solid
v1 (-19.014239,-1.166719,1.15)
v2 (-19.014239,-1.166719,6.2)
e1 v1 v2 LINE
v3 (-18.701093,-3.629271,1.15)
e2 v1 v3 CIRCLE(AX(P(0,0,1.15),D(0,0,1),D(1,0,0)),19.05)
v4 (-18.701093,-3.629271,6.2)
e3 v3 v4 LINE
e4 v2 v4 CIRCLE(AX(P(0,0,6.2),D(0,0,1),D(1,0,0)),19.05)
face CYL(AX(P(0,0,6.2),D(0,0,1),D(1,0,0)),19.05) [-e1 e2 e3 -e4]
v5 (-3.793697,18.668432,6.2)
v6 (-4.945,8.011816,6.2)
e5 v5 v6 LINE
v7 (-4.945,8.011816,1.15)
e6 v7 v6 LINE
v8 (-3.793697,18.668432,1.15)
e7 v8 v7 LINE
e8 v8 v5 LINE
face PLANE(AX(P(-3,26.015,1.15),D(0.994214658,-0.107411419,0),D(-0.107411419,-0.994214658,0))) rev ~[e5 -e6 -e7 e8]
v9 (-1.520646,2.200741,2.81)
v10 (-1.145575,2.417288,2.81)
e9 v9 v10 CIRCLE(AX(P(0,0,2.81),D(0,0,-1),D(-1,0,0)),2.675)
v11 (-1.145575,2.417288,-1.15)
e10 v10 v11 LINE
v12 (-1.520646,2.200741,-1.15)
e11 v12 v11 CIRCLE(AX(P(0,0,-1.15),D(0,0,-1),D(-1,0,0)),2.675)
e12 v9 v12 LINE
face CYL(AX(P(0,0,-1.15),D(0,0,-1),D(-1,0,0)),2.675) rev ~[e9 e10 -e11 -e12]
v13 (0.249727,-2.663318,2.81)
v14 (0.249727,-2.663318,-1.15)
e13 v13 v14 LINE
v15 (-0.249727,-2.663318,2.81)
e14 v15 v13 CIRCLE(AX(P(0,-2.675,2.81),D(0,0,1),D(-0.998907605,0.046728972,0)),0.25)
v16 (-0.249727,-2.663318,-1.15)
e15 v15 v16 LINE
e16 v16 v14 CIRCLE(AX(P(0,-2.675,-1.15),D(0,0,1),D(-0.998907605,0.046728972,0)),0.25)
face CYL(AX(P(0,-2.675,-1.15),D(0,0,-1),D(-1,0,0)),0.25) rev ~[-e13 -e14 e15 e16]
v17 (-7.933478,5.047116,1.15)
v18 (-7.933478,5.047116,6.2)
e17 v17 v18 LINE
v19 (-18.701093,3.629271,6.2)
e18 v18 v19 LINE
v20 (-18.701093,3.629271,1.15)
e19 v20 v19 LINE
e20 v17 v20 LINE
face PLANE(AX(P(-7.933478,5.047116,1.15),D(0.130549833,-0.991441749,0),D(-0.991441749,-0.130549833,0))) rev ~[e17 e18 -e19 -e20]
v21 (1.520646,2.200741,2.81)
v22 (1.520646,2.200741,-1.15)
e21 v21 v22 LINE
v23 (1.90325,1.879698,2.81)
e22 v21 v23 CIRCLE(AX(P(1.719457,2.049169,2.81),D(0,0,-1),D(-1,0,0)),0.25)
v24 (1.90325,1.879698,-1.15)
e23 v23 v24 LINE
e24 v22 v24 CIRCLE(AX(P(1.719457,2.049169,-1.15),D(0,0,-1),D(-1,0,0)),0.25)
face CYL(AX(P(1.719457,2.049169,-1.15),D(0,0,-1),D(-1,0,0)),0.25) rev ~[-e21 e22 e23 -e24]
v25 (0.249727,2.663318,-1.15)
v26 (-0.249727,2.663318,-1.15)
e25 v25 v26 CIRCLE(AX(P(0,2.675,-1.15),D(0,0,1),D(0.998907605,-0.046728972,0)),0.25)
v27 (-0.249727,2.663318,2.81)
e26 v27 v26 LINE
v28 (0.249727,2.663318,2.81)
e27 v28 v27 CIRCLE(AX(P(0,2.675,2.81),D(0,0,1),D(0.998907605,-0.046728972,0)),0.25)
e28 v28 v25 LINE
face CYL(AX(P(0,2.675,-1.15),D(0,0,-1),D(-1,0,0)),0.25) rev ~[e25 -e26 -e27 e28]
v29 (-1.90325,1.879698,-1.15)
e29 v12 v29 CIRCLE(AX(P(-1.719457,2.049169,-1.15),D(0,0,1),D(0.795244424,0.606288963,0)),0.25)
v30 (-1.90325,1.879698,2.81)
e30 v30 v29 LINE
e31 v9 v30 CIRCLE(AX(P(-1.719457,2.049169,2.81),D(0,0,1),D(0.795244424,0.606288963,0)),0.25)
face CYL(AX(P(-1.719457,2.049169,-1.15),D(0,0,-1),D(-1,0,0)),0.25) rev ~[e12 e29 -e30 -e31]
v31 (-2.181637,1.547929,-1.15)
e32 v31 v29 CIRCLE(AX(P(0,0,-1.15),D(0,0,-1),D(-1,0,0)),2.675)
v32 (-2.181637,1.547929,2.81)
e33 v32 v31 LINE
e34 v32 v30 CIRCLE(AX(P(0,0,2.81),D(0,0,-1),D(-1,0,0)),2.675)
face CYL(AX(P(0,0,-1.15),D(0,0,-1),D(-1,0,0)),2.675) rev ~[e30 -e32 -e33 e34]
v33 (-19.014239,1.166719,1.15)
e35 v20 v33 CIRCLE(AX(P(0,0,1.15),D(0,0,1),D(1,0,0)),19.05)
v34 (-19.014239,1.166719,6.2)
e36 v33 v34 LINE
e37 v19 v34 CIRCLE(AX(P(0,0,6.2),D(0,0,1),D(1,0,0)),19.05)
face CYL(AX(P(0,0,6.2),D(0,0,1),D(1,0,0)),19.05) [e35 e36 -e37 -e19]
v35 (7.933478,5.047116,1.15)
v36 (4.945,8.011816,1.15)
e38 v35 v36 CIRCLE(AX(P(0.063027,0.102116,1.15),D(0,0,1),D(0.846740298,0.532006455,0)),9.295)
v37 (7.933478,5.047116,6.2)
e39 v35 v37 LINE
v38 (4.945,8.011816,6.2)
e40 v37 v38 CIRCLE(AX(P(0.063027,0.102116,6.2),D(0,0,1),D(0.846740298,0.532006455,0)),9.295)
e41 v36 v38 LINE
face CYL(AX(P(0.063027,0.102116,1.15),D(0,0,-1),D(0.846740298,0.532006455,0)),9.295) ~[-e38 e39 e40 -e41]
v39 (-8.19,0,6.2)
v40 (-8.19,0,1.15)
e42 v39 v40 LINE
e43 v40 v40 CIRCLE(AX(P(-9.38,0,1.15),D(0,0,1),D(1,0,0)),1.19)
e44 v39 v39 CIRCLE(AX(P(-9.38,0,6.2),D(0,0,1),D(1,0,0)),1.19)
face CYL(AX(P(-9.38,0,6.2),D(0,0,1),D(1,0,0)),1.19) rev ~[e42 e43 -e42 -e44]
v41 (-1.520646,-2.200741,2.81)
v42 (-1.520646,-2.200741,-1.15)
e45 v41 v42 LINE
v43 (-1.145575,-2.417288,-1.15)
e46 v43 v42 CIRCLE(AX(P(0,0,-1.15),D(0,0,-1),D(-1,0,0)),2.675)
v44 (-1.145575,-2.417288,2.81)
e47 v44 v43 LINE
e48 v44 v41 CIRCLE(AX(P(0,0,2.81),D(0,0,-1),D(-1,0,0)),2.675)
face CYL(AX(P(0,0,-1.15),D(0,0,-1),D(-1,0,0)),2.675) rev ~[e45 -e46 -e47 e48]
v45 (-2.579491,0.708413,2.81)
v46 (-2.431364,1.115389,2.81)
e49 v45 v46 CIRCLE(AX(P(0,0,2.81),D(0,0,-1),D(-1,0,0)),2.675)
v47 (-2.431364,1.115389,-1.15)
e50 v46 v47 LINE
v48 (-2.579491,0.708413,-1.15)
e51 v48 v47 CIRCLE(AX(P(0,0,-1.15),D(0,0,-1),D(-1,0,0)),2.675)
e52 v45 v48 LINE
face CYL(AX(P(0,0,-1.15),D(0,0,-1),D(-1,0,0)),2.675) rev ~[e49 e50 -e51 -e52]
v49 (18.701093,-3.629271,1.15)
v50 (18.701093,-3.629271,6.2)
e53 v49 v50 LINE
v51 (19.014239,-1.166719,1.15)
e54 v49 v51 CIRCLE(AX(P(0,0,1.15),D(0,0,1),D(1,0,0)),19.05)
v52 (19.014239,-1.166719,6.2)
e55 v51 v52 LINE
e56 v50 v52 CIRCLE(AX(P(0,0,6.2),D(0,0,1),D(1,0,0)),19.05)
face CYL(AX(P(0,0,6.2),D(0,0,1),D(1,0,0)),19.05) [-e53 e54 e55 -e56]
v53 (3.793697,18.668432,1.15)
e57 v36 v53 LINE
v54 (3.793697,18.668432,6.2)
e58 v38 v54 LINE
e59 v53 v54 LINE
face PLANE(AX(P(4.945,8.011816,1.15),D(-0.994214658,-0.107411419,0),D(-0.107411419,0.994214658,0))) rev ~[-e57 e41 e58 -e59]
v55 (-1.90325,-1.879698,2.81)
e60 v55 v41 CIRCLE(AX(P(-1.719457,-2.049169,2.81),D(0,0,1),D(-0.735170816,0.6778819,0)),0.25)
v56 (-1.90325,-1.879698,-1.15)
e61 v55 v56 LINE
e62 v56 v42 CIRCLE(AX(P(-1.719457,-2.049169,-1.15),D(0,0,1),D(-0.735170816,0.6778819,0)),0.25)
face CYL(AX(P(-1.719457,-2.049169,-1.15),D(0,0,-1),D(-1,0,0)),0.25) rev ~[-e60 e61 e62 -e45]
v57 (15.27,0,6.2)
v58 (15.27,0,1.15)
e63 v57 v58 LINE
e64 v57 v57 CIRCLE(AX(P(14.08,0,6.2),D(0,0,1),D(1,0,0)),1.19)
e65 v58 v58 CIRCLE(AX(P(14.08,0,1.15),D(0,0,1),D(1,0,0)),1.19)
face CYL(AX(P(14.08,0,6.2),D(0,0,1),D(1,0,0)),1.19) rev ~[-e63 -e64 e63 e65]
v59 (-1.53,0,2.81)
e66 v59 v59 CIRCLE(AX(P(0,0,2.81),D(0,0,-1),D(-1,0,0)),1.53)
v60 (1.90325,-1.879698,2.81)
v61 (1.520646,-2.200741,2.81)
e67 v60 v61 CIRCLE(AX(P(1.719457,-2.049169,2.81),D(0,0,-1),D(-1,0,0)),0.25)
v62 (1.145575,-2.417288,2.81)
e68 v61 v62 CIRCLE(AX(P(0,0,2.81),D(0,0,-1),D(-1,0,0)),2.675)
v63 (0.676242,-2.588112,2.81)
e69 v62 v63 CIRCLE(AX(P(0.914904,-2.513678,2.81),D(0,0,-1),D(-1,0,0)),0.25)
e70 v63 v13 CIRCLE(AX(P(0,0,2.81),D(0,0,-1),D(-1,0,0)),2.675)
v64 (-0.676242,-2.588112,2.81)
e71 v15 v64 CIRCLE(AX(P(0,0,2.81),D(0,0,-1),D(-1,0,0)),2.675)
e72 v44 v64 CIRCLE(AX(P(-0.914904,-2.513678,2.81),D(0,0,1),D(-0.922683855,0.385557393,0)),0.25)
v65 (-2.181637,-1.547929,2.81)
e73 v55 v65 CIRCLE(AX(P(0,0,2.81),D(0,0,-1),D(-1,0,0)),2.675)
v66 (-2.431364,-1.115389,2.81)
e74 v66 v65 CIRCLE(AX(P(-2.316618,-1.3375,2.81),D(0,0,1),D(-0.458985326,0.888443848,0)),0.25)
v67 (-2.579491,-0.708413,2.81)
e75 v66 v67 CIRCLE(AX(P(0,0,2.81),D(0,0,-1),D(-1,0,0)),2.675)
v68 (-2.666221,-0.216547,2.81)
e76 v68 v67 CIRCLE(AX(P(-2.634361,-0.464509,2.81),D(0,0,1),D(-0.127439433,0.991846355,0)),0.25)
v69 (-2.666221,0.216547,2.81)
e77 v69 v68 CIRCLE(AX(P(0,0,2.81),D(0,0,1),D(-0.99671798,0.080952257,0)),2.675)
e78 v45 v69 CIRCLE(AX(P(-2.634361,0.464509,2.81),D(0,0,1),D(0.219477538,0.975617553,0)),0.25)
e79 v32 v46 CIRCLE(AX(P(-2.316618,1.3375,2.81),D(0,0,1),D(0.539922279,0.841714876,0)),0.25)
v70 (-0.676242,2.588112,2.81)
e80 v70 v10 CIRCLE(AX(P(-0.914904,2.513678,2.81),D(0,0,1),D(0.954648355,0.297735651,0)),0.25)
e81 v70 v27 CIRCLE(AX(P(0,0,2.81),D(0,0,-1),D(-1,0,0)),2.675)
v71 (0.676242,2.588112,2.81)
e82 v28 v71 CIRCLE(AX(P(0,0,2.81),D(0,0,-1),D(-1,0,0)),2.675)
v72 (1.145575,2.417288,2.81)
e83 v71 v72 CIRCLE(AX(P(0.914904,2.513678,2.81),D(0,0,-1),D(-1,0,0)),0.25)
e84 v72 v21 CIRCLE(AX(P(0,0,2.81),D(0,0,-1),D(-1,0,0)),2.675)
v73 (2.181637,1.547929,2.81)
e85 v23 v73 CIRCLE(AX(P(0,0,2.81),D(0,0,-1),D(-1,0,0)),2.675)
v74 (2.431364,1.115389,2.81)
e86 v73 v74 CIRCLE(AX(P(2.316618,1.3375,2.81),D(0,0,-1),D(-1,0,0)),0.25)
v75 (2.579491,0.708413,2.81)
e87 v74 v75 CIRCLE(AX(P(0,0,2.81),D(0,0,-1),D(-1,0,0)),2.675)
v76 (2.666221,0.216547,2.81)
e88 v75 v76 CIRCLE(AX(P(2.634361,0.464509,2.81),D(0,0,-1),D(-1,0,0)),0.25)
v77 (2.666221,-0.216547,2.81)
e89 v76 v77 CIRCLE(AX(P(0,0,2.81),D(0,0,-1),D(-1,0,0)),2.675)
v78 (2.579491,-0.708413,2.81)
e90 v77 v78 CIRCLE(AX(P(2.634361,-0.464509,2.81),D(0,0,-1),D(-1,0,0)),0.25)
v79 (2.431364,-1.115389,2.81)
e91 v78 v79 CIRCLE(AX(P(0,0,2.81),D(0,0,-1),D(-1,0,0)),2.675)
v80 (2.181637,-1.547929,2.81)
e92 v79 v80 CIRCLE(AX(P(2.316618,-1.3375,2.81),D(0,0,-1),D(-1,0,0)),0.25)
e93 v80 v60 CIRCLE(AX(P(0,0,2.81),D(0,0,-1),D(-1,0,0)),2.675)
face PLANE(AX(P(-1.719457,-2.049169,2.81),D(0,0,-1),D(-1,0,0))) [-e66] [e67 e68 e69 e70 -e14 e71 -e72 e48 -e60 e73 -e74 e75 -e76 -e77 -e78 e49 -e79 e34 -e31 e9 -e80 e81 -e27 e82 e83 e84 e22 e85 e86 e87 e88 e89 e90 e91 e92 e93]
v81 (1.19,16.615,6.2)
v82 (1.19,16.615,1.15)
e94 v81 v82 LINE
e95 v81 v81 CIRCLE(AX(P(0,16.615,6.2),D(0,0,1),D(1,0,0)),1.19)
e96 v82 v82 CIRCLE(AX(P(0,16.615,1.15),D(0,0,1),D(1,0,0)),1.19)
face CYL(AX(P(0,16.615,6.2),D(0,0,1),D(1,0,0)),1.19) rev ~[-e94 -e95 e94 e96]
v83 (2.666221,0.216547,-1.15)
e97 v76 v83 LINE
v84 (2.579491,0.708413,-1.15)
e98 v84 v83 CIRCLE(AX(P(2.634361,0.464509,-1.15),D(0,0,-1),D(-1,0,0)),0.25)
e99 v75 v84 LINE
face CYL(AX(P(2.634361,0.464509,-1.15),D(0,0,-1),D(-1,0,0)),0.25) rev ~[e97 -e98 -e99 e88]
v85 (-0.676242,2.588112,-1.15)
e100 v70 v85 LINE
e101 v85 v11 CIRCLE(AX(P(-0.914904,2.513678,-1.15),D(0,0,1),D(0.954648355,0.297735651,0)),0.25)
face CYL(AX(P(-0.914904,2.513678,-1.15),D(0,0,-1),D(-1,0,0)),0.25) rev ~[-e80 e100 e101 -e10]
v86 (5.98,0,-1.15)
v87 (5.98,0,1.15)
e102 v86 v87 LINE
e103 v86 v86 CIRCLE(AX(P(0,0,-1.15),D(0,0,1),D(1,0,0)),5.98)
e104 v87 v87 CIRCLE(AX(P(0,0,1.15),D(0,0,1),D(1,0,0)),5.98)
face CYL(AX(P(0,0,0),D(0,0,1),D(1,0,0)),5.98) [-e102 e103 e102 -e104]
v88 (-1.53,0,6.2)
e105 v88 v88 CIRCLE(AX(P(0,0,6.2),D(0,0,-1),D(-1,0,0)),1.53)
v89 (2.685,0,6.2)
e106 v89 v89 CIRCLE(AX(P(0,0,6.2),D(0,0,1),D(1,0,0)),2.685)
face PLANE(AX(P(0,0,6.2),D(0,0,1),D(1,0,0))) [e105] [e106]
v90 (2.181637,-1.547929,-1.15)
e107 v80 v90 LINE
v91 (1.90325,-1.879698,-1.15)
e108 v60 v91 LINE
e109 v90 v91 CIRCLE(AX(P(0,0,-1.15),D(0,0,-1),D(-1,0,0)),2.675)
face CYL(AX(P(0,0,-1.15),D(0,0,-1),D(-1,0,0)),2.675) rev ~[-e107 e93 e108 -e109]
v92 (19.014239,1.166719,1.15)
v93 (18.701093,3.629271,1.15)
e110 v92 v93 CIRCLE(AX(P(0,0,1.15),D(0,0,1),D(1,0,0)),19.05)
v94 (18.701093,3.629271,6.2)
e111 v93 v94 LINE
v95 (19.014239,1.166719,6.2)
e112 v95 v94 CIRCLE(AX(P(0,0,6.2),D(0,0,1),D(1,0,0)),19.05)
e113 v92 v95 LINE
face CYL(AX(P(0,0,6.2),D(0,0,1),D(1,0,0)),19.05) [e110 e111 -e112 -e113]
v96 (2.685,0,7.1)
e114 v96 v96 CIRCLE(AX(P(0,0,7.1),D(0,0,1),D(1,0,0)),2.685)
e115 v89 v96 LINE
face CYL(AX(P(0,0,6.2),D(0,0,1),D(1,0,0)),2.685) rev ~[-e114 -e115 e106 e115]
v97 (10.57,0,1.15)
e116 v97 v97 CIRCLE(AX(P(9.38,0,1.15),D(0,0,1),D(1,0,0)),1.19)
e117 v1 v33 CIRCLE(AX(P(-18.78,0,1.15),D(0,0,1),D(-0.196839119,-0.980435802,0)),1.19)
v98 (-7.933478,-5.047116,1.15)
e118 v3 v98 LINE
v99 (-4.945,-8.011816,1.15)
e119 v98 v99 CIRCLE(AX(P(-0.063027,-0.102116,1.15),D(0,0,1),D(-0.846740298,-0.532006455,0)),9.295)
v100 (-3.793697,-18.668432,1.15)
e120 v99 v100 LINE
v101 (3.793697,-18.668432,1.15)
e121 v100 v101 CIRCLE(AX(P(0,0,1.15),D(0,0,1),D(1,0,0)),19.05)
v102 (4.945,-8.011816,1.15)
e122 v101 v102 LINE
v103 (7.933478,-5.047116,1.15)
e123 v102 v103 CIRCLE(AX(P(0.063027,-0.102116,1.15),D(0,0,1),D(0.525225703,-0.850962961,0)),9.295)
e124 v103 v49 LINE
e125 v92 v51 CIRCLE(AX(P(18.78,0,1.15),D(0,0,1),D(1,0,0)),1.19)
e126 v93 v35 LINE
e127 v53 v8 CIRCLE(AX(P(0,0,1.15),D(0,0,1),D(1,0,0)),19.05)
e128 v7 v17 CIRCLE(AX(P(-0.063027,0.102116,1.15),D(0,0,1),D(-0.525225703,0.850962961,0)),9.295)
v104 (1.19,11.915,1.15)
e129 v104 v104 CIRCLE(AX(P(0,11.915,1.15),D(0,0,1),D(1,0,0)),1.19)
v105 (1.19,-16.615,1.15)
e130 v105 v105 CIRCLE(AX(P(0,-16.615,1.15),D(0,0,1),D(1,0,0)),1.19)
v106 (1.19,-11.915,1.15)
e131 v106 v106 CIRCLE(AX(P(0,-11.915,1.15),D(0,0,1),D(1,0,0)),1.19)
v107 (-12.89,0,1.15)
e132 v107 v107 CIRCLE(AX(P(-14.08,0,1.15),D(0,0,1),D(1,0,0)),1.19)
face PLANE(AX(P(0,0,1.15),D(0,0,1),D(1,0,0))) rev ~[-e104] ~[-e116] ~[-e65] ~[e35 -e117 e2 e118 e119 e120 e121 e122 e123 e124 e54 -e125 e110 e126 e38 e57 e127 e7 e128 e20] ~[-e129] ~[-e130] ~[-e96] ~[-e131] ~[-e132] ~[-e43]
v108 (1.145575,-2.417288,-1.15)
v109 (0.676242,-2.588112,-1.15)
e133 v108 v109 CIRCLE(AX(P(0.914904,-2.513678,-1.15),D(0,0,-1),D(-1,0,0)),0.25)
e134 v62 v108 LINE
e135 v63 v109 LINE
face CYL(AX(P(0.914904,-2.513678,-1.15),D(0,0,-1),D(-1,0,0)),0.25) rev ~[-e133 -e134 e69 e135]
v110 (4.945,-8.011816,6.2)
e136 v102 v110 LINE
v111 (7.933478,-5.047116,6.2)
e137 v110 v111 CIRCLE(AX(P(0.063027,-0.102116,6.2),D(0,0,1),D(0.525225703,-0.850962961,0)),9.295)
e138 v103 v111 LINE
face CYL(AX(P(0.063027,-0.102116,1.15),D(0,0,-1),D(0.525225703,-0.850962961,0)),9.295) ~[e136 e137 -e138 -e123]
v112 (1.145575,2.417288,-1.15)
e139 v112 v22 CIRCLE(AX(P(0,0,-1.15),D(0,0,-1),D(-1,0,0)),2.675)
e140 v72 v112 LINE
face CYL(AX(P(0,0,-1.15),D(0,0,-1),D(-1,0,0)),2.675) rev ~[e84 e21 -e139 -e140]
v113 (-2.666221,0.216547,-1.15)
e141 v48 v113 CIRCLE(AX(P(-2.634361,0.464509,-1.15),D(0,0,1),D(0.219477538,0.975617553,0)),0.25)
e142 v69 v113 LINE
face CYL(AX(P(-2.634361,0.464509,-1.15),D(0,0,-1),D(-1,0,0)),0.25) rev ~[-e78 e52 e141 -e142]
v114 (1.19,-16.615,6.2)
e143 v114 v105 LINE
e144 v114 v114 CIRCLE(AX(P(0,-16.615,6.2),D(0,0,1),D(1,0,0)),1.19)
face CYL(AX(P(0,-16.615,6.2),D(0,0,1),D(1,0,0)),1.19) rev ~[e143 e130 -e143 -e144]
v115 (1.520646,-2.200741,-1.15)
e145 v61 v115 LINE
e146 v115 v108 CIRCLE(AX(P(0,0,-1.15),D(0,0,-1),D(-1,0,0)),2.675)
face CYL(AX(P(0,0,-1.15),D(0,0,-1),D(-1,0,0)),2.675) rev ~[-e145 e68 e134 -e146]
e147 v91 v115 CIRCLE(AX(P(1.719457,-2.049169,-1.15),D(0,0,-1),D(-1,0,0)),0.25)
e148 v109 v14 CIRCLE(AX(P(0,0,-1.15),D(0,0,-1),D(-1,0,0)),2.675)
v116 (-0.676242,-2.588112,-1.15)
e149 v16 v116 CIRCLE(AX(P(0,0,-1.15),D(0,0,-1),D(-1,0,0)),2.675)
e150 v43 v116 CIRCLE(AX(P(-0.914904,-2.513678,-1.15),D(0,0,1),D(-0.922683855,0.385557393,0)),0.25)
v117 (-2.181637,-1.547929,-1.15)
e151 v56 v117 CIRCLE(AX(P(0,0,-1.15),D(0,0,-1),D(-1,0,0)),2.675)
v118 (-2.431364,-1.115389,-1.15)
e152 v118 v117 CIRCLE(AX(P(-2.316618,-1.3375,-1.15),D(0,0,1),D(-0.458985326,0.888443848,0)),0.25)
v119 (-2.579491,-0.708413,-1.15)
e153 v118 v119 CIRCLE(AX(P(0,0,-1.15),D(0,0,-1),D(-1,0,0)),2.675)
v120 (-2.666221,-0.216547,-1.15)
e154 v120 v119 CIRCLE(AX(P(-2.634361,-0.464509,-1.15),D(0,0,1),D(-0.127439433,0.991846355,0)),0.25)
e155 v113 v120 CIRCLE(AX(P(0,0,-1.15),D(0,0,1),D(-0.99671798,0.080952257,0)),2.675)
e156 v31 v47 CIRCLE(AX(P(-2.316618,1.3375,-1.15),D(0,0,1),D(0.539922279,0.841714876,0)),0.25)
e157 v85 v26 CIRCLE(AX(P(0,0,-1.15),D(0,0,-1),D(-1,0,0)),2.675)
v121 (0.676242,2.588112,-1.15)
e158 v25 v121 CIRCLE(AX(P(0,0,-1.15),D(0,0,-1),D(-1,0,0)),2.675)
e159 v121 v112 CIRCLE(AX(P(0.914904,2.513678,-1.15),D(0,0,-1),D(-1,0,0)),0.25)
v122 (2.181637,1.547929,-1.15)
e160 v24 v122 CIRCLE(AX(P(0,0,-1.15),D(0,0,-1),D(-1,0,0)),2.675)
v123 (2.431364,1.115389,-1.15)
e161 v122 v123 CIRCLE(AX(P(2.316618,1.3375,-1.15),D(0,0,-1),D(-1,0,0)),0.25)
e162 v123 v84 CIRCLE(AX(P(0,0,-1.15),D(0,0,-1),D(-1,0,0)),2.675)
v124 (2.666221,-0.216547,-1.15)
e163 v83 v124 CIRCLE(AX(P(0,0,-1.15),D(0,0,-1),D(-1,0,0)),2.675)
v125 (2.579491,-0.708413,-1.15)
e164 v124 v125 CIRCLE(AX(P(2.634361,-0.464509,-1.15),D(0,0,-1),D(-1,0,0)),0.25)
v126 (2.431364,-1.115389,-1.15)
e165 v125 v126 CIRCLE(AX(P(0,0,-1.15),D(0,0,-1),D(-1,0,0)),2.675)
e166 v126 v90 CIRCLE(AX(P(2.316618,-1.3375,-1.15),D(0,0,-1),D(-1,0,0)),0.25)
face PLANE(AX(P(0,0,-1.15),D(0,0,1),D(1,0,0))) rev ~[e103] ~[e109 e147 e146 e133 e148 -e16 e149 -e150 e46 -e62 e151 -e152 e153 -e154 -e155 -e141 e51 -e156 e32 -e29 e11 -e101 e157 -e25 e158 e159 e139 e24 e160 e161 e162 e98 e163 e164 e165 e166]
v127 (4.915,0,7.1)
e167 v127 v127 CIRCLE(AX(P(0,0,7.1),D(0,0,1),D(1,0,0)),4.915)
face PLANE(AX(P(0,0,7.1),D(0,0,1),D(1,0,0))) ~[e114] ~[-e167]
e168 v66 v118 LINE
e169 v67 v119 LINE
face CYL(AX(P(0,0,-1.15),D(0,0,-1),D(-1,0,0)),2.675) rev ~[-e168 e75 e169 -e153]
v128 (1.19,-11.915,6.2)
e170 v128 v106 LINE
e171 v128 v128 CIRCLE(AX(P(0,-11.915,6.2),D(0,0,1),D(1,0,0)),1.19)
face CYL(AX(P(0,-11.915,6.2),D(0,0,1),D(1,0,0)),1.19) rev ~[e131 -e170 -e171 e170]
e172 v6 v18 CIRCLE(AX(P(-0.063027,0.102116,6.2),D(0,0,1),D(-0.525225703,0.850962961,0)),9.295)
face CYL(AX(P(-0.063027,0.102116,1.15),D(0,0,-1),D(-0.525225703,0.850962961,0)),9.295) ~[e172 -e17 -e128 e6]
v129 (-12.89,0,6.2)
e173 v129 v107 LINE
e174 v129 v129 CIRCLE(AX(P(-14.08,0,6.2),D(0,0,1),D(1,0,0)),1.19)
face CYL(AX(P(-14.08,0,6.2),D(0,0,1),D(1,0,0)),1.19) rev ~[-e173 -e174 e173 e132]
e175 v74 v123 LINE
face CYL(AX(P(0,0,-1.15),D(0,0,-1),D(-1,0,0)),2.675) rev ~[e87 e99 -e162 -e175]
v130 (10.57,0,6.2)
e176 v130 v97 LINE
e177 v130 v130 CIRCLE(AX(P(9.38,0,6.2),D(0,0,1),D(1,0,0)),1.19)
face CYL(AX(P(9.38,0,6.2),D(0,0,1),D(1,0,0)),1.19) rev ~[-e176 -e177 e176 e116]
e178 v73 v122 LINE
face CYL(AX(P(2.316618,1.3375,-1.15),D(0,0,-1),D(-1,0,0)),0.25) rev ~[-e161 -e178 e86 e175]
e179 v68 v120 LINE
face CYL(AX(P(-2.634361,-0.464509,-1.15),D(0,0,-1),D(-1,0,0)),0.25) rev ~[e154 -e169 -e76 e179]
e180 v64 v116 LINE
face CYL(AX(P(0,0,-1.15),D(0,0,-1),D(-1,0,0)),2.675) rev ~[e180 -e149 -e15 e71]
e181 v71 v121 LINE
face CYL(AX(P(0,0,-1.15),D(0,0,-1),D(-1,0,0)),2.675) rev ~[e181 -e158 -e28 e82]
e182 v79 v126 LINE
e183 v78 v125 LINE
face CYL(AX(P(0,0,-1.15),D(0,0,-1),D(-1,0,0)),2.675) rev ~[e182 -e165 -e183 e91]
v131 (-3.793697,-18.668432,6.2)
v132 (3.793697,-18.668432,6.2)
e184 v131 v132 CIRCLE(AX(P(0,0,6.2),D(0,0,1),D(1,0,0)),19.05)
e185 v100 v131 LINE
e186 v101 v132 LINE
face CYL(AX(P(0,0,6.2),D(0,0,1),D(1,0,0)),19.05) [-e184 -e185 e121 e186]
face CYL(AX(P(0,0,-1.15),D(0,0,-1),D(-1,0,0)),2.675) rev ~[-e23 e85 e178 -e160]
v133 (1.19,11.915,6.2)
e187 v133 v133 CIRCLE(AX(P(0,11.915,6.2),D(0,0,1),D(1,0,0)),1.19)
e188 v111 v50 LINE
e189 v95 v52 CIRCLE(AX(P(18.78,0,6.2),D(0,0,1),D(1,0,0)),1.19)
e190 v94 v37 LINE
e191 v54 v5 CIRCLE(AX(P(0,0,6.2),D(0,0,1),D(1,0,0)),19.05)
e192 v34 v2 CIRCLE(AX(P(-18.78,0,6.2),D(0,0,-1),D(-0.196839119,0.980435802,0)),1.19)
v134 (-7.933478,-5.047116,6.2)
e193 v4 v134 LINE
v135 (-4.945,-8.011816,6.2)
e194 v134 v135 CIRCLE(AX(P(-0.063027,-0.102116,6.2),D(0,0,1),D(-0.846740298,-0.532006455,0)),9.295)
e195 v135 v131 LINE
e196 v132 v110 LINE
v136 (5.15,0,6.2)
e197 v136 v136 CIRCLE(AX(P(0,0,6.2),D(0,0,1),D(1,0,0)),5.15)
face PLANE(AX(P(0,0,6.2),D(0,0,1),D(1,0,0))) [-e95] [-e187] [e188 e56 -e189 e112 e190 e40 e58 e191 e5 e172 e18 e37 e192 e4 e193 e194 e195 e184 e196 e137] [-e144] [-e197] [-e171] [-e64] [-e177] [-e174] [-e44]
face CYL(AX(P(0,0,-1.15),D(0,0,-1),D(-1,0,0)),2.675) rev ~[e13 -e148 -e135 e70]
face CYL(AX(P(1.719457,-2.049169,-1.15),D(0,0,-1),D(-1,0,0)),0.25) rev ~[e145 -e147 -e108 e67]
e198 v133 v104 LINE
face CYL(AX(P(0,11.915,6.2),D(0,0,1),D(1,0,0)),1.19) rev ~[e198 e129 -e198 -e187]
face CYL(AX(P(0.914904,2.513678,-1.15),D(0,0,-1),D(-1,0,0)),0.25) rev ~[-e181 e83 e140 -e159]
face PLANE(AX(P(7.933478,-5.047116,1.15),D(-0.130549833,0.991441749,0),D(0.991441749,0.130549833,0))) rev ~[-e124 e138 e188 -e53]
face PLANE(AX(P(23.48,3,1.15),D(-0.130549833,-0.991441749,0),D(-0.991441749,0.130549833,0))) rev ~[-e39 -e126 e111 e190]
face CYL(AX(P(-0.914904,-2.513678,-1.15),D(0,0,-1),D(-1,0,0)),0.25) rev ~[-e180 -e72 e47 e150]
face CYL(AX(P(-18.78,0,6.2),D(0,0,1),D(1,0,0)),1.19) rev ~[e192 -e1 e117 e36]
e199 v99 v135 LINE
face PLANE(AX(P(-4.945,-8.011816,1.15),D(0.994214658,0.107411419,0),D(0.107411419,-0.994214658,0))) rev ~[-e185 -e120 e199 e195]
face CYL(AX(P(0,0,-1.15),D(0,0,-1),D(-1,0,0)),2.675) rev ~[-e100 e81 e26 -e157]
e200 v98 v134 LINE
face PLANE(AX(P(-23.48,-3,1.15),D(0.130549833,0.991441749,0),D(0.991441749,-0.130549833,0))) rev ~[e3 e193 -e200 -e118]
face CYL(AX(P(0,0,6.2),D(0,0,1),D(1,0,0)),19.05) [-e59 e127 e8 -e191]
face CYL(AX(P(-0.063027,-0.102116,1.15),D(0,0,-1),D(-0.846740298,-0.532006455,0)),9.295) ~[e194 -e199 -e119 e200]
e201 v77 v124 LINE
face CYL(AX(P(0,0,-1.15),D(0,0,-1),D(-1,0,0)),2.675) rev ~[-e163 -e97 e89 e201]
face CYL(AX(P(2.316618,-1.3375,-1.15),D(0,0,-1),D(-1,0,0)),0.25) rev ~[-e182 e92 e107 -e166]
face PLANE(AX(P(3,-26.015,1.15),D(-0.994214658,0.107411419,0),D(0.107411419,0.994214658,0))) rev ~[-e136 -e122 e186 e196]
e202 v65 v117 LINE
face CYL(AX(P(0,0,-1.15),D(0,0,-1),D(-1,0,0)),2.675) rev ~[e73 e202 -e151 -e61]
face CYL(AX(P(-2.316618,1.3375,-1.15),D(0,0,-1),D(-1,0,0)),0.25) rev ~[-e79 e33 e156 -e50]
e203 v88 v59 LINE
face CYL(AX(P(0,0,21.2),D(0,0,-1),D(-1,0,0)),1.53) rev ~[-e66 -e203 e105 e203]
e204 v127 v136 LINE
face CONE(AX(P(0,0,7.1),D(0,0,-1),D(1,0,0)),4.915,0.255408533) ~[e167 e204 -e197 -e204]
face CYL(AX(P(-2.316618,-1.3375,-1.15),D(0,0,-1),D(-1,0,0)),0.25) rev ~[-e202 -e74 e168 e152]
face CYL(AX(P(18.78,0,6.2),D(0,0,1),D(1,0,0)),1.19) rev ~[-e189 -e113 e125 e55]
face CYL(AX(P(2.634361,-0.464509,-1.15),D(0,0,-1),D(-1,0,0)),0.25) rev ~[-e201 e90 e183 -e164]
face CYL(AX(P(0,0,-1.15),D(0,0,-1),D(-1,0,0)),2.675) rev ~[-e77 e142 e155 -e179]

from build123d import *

# Parameters (mm, degrees)
SKETCH1_R                 = 5.98
BOSS_EXTRUDE1_DEPTH       = 1.15
BOSS_EXTRUDE2_DEPTH       = 5.05
F_3_0MM_DOWEL_HOLE1_D     = 3.06
F_3_0MM_DOWEL_HOLE1_DEPTH = 15
F_3_0MM_DOWEL_HOLE1_TIP   = 0.919316747
SKETCH6_R                 = 0.25
CUT_EXTRUDE1_DEPTH        = 3.96
SKETCH7_R                 = 2.675
CUT_EXTRUDE2_DEPTH        = 3.96
SKETCH8_R                 = 1.19
CUT_EXTRUDE3_DEPTH        = 8.35
SKETCH9_OUTSIDE_W         = 70.76
SKETCH9_OUTSIDE_H         = 75.83
SKETCH9_OUTSIDE_R         = 19.05
CUT_EXTRUDE4_DEPTH        = 8.35


with BuildPart() as part:
    # Sketch1 → Boss-Extrude1 (new body, symmetric)
    with BuildSketch(Plane.XY):
        Circle(SKETCH1_R)
    extrude(amount=BOSS_EXTRUDE1_DEPTH, both=True)

    # Sketch2 → Boss-Extrude2 (add)
    with BuildSketch(Plane.XY.offset(1.15)):
        with BuildLine():
            Line((-3, 26.015), (-4.945, 8.011816273))
            ThreePointArc((-4.945, 8.011816273), (-6.609281124, 6.70087173), (-7.933478152, 5.047115555))
            Line((-7.933478152, 5.047115555), (-23.48, 3))
            ThreePointArc((-23.48, 3), (-26.48, 0), (-23.48, -3))
            Line((-23.48, -3), (-7.933478152, -5.047115555))
            ThreePointArc((-7.933478152, -5.047115555), (-6.609281124, -6.70087173), (-4.945, -8.011816273))
            Line((-4.945, -8.011816273), (-3, -26.015))
            ThreePointArc((-3, -26.015), (0, -29.015), (3, -26.015))
            Line((3, -26.015), (4.945, -8.011816273))
            ThreePointArc((4.945, -8.011816273), (6.609281124, -6.70087173), (7.933478152, -5.047115555))
            Line((7.933478152, -5.047115555), (23.48, -3))
            ThreePointArc((23.48, -3), (26.48, 0), (23.48, 3))
            Line((23.48, 3), (7.933478152, 5.047115555))
            ThreePointArc((7.933478152, 5.047115555), (6.609281124, 6.70087173), (4.945, 8.011816273))
            Line((4.945, 8.011816273), (3, 26.015))
            ThreePointArc((3, 26.015), (0, 29.015), (-3, 26.015))
        make_face()
    extrude(amount=BOSS_EXTRUDE2_DEPTH)

    # Ø3.0mm Dowel Hole1
    with Locations(Plane.XY.offset(6.2)):
        with Locations((0, 0)):
            Hole(F_3_0MM_DOWEL_HOLE1_D / 2, depth=F_3_0MM_DOWEL_HOLE1_DEPTH)
            with Locations((0, 0, -(F_3_0MM_DOWEL_HOLE1_DEPTH + F_3_0MM_DOWEL_HOLE1_TIP / 2))):  # 118° drill point
                Cone(0, F_3_0MM_DOWEL_HOLE1_D / 2, F_3_0MM_DOWEL_HOLE1_TIP, mode=Mode.SUBTRACT)

    # Sketch5 → Revolve1 (revolve)
    with BuildSketch(Plane(origin=(0, 0, 0), x_dir=(1, 0, 0), z_dir=(0, 1, 0))):
        Polygon((2.685, -6.2), (2.685, -7.1), (4.915, -7.1), (5.15, -6.2), align=None)
    revolve(axis=Axis((0, 0, -17.732106559), (0, 0, 1)))

    # Sketch6 → Cut-Extrude1 (cut)
    with BuildSketch(Plane(origin=(0, 0, -1.15), x_dir=(-1, 0, 0), z_dir=(0, 0, -1))):
        with Locations((0, 2.675)):
            Circle(SKETCH6_R)
        with Locations((0.914903883, 2.513677761)):
            Circle(SKETCH6_R)
        with Locations((1.719456856, 2.049168885)):
            Circle(SKETCH6_R)
        with Locations((2.316617955, 1.3375)):
            Circle(SKETCH6_R)
        with Locations((2.634360739, 0.464508875)):
            Circle(SKETCH6_R)
        with Locations((2.634360739, -0.464508875)):
            Circle(SKETCH6_R)
        with Locations((2.316617955, -1.3375)):
            Circle(SKETCH6_R)
        with Locations((1.719456856, -2.049168885)):
            Circle(SKETCH6_R)
        with Locations((0.914903883, -2.513677761)):
            Circle(SKETCH6_R)
        with Locations((0, -2.675)):
            Circle(SKETCH6_R)
        with Locations((-0.914903883, -2.513677761)):
            Circle(SKETCH6_R)
        with Locations((-1.719456856, -2.049168885)):
            Circle(SKETCH6_R)
        with Locations((-2.316617955, -1.3375)):
            Circle(SKETCH6_R)
        with Locations((-2.634360739, -0.464508875)):
            Circle(SKETCH6_R)
        with Locations((-2.634360739, 0.464508875)):
            Circle(SKETCH6_R)
        with Locations((-2.316617955, 1.3375)):
            Circle(SKETCH6_R)
        with Locations((-1.719456856, 2.049168885)):
            Circle(SKETCH6_R)
        with Locations((-0.914903883, 2.513677761)):
            Circle(SKETCH6_R)
    extrude(amount=-CUT_EXTRUDE1_DEPTH, mode=Mode.SUBTRACT)

    # Sketch7 → Cut-Extrude2 (cut)
    with BuildSketch(Plane(origin=(0, 0, -1.15), x_dir=(-1, 0, 0), z_dir=(0, 0, -1))):
        Circle(SKETCH7_R)
    extrude(amount=-CUT_EXTRUDE2_DEPTH, mode=Mode.SUBTRACT)

    # Sketch8 → Cut-Extrude3 (cut, through all)
    with BuildSketch(Plane.XY.offset(6.2)):
        with Locations((0, 11.915)):
            Circle(SKETCH8_R)
        with Locations((0, 16.615)):
            Circle(SKETCH8_R)
        with Locations((0, 21.315)):
            Circle(SKETCH8_R)
        with Locations((0, 26.015)):
            Circle(SKETCH8_R)
        with Locations((0, -26.015)):
            Circle(SKETCH8_R)
        with Locations((0, -21.315)):
            Circle(SKETCH8_R)
        with Locations((0, -16.615)):
            Circle(SKETCH8_R)
        with Locations((0, -11.915)):
            Circle(SKETCH8_R)
        with Locations((-23.48, 0)):
            Circle(SKETCH8_R)
        with Locations((-18.78, 0)):
            Circle(SKETCH8_R)
        with Locations((-14.08, 0)):
            Circle(SKETCH8_R)
        with Locations((-9.38, 0)):
            Circle(SKETCH8_R)
        with Locations((9.38, 0)):
            Circle(SKETCH8_R)
        with Locations((14.08, 0)):
            Circle(SKETCH8_R)
        with Locations((18.78, 0)):
            Circle(SKETCH8_R)
        with Locations((23.48, 0)):
            Circle(SKETCH8_R)
    extrude(amount=-CUT_EXTRUDE3_DEPTH, mode=Mode.SUBTRACT)

    # Sketch9 outside → Cut-Extrude4 (cut, through all)
    with BuildSketch(Plane.XY.offset(6.2)):
        Rectangle(SKETCH9_OUTSIDE_W, SKETCH9_OUTSIDE_H)
        Circle(SKETCH9_OUTSIDE_R, mode=Mode.SUBTRACT)
    extrude(amount=-CUT_EXTRUDE4_DEPTH, mode=Mode.SUBTRACT)


solid = part.part
